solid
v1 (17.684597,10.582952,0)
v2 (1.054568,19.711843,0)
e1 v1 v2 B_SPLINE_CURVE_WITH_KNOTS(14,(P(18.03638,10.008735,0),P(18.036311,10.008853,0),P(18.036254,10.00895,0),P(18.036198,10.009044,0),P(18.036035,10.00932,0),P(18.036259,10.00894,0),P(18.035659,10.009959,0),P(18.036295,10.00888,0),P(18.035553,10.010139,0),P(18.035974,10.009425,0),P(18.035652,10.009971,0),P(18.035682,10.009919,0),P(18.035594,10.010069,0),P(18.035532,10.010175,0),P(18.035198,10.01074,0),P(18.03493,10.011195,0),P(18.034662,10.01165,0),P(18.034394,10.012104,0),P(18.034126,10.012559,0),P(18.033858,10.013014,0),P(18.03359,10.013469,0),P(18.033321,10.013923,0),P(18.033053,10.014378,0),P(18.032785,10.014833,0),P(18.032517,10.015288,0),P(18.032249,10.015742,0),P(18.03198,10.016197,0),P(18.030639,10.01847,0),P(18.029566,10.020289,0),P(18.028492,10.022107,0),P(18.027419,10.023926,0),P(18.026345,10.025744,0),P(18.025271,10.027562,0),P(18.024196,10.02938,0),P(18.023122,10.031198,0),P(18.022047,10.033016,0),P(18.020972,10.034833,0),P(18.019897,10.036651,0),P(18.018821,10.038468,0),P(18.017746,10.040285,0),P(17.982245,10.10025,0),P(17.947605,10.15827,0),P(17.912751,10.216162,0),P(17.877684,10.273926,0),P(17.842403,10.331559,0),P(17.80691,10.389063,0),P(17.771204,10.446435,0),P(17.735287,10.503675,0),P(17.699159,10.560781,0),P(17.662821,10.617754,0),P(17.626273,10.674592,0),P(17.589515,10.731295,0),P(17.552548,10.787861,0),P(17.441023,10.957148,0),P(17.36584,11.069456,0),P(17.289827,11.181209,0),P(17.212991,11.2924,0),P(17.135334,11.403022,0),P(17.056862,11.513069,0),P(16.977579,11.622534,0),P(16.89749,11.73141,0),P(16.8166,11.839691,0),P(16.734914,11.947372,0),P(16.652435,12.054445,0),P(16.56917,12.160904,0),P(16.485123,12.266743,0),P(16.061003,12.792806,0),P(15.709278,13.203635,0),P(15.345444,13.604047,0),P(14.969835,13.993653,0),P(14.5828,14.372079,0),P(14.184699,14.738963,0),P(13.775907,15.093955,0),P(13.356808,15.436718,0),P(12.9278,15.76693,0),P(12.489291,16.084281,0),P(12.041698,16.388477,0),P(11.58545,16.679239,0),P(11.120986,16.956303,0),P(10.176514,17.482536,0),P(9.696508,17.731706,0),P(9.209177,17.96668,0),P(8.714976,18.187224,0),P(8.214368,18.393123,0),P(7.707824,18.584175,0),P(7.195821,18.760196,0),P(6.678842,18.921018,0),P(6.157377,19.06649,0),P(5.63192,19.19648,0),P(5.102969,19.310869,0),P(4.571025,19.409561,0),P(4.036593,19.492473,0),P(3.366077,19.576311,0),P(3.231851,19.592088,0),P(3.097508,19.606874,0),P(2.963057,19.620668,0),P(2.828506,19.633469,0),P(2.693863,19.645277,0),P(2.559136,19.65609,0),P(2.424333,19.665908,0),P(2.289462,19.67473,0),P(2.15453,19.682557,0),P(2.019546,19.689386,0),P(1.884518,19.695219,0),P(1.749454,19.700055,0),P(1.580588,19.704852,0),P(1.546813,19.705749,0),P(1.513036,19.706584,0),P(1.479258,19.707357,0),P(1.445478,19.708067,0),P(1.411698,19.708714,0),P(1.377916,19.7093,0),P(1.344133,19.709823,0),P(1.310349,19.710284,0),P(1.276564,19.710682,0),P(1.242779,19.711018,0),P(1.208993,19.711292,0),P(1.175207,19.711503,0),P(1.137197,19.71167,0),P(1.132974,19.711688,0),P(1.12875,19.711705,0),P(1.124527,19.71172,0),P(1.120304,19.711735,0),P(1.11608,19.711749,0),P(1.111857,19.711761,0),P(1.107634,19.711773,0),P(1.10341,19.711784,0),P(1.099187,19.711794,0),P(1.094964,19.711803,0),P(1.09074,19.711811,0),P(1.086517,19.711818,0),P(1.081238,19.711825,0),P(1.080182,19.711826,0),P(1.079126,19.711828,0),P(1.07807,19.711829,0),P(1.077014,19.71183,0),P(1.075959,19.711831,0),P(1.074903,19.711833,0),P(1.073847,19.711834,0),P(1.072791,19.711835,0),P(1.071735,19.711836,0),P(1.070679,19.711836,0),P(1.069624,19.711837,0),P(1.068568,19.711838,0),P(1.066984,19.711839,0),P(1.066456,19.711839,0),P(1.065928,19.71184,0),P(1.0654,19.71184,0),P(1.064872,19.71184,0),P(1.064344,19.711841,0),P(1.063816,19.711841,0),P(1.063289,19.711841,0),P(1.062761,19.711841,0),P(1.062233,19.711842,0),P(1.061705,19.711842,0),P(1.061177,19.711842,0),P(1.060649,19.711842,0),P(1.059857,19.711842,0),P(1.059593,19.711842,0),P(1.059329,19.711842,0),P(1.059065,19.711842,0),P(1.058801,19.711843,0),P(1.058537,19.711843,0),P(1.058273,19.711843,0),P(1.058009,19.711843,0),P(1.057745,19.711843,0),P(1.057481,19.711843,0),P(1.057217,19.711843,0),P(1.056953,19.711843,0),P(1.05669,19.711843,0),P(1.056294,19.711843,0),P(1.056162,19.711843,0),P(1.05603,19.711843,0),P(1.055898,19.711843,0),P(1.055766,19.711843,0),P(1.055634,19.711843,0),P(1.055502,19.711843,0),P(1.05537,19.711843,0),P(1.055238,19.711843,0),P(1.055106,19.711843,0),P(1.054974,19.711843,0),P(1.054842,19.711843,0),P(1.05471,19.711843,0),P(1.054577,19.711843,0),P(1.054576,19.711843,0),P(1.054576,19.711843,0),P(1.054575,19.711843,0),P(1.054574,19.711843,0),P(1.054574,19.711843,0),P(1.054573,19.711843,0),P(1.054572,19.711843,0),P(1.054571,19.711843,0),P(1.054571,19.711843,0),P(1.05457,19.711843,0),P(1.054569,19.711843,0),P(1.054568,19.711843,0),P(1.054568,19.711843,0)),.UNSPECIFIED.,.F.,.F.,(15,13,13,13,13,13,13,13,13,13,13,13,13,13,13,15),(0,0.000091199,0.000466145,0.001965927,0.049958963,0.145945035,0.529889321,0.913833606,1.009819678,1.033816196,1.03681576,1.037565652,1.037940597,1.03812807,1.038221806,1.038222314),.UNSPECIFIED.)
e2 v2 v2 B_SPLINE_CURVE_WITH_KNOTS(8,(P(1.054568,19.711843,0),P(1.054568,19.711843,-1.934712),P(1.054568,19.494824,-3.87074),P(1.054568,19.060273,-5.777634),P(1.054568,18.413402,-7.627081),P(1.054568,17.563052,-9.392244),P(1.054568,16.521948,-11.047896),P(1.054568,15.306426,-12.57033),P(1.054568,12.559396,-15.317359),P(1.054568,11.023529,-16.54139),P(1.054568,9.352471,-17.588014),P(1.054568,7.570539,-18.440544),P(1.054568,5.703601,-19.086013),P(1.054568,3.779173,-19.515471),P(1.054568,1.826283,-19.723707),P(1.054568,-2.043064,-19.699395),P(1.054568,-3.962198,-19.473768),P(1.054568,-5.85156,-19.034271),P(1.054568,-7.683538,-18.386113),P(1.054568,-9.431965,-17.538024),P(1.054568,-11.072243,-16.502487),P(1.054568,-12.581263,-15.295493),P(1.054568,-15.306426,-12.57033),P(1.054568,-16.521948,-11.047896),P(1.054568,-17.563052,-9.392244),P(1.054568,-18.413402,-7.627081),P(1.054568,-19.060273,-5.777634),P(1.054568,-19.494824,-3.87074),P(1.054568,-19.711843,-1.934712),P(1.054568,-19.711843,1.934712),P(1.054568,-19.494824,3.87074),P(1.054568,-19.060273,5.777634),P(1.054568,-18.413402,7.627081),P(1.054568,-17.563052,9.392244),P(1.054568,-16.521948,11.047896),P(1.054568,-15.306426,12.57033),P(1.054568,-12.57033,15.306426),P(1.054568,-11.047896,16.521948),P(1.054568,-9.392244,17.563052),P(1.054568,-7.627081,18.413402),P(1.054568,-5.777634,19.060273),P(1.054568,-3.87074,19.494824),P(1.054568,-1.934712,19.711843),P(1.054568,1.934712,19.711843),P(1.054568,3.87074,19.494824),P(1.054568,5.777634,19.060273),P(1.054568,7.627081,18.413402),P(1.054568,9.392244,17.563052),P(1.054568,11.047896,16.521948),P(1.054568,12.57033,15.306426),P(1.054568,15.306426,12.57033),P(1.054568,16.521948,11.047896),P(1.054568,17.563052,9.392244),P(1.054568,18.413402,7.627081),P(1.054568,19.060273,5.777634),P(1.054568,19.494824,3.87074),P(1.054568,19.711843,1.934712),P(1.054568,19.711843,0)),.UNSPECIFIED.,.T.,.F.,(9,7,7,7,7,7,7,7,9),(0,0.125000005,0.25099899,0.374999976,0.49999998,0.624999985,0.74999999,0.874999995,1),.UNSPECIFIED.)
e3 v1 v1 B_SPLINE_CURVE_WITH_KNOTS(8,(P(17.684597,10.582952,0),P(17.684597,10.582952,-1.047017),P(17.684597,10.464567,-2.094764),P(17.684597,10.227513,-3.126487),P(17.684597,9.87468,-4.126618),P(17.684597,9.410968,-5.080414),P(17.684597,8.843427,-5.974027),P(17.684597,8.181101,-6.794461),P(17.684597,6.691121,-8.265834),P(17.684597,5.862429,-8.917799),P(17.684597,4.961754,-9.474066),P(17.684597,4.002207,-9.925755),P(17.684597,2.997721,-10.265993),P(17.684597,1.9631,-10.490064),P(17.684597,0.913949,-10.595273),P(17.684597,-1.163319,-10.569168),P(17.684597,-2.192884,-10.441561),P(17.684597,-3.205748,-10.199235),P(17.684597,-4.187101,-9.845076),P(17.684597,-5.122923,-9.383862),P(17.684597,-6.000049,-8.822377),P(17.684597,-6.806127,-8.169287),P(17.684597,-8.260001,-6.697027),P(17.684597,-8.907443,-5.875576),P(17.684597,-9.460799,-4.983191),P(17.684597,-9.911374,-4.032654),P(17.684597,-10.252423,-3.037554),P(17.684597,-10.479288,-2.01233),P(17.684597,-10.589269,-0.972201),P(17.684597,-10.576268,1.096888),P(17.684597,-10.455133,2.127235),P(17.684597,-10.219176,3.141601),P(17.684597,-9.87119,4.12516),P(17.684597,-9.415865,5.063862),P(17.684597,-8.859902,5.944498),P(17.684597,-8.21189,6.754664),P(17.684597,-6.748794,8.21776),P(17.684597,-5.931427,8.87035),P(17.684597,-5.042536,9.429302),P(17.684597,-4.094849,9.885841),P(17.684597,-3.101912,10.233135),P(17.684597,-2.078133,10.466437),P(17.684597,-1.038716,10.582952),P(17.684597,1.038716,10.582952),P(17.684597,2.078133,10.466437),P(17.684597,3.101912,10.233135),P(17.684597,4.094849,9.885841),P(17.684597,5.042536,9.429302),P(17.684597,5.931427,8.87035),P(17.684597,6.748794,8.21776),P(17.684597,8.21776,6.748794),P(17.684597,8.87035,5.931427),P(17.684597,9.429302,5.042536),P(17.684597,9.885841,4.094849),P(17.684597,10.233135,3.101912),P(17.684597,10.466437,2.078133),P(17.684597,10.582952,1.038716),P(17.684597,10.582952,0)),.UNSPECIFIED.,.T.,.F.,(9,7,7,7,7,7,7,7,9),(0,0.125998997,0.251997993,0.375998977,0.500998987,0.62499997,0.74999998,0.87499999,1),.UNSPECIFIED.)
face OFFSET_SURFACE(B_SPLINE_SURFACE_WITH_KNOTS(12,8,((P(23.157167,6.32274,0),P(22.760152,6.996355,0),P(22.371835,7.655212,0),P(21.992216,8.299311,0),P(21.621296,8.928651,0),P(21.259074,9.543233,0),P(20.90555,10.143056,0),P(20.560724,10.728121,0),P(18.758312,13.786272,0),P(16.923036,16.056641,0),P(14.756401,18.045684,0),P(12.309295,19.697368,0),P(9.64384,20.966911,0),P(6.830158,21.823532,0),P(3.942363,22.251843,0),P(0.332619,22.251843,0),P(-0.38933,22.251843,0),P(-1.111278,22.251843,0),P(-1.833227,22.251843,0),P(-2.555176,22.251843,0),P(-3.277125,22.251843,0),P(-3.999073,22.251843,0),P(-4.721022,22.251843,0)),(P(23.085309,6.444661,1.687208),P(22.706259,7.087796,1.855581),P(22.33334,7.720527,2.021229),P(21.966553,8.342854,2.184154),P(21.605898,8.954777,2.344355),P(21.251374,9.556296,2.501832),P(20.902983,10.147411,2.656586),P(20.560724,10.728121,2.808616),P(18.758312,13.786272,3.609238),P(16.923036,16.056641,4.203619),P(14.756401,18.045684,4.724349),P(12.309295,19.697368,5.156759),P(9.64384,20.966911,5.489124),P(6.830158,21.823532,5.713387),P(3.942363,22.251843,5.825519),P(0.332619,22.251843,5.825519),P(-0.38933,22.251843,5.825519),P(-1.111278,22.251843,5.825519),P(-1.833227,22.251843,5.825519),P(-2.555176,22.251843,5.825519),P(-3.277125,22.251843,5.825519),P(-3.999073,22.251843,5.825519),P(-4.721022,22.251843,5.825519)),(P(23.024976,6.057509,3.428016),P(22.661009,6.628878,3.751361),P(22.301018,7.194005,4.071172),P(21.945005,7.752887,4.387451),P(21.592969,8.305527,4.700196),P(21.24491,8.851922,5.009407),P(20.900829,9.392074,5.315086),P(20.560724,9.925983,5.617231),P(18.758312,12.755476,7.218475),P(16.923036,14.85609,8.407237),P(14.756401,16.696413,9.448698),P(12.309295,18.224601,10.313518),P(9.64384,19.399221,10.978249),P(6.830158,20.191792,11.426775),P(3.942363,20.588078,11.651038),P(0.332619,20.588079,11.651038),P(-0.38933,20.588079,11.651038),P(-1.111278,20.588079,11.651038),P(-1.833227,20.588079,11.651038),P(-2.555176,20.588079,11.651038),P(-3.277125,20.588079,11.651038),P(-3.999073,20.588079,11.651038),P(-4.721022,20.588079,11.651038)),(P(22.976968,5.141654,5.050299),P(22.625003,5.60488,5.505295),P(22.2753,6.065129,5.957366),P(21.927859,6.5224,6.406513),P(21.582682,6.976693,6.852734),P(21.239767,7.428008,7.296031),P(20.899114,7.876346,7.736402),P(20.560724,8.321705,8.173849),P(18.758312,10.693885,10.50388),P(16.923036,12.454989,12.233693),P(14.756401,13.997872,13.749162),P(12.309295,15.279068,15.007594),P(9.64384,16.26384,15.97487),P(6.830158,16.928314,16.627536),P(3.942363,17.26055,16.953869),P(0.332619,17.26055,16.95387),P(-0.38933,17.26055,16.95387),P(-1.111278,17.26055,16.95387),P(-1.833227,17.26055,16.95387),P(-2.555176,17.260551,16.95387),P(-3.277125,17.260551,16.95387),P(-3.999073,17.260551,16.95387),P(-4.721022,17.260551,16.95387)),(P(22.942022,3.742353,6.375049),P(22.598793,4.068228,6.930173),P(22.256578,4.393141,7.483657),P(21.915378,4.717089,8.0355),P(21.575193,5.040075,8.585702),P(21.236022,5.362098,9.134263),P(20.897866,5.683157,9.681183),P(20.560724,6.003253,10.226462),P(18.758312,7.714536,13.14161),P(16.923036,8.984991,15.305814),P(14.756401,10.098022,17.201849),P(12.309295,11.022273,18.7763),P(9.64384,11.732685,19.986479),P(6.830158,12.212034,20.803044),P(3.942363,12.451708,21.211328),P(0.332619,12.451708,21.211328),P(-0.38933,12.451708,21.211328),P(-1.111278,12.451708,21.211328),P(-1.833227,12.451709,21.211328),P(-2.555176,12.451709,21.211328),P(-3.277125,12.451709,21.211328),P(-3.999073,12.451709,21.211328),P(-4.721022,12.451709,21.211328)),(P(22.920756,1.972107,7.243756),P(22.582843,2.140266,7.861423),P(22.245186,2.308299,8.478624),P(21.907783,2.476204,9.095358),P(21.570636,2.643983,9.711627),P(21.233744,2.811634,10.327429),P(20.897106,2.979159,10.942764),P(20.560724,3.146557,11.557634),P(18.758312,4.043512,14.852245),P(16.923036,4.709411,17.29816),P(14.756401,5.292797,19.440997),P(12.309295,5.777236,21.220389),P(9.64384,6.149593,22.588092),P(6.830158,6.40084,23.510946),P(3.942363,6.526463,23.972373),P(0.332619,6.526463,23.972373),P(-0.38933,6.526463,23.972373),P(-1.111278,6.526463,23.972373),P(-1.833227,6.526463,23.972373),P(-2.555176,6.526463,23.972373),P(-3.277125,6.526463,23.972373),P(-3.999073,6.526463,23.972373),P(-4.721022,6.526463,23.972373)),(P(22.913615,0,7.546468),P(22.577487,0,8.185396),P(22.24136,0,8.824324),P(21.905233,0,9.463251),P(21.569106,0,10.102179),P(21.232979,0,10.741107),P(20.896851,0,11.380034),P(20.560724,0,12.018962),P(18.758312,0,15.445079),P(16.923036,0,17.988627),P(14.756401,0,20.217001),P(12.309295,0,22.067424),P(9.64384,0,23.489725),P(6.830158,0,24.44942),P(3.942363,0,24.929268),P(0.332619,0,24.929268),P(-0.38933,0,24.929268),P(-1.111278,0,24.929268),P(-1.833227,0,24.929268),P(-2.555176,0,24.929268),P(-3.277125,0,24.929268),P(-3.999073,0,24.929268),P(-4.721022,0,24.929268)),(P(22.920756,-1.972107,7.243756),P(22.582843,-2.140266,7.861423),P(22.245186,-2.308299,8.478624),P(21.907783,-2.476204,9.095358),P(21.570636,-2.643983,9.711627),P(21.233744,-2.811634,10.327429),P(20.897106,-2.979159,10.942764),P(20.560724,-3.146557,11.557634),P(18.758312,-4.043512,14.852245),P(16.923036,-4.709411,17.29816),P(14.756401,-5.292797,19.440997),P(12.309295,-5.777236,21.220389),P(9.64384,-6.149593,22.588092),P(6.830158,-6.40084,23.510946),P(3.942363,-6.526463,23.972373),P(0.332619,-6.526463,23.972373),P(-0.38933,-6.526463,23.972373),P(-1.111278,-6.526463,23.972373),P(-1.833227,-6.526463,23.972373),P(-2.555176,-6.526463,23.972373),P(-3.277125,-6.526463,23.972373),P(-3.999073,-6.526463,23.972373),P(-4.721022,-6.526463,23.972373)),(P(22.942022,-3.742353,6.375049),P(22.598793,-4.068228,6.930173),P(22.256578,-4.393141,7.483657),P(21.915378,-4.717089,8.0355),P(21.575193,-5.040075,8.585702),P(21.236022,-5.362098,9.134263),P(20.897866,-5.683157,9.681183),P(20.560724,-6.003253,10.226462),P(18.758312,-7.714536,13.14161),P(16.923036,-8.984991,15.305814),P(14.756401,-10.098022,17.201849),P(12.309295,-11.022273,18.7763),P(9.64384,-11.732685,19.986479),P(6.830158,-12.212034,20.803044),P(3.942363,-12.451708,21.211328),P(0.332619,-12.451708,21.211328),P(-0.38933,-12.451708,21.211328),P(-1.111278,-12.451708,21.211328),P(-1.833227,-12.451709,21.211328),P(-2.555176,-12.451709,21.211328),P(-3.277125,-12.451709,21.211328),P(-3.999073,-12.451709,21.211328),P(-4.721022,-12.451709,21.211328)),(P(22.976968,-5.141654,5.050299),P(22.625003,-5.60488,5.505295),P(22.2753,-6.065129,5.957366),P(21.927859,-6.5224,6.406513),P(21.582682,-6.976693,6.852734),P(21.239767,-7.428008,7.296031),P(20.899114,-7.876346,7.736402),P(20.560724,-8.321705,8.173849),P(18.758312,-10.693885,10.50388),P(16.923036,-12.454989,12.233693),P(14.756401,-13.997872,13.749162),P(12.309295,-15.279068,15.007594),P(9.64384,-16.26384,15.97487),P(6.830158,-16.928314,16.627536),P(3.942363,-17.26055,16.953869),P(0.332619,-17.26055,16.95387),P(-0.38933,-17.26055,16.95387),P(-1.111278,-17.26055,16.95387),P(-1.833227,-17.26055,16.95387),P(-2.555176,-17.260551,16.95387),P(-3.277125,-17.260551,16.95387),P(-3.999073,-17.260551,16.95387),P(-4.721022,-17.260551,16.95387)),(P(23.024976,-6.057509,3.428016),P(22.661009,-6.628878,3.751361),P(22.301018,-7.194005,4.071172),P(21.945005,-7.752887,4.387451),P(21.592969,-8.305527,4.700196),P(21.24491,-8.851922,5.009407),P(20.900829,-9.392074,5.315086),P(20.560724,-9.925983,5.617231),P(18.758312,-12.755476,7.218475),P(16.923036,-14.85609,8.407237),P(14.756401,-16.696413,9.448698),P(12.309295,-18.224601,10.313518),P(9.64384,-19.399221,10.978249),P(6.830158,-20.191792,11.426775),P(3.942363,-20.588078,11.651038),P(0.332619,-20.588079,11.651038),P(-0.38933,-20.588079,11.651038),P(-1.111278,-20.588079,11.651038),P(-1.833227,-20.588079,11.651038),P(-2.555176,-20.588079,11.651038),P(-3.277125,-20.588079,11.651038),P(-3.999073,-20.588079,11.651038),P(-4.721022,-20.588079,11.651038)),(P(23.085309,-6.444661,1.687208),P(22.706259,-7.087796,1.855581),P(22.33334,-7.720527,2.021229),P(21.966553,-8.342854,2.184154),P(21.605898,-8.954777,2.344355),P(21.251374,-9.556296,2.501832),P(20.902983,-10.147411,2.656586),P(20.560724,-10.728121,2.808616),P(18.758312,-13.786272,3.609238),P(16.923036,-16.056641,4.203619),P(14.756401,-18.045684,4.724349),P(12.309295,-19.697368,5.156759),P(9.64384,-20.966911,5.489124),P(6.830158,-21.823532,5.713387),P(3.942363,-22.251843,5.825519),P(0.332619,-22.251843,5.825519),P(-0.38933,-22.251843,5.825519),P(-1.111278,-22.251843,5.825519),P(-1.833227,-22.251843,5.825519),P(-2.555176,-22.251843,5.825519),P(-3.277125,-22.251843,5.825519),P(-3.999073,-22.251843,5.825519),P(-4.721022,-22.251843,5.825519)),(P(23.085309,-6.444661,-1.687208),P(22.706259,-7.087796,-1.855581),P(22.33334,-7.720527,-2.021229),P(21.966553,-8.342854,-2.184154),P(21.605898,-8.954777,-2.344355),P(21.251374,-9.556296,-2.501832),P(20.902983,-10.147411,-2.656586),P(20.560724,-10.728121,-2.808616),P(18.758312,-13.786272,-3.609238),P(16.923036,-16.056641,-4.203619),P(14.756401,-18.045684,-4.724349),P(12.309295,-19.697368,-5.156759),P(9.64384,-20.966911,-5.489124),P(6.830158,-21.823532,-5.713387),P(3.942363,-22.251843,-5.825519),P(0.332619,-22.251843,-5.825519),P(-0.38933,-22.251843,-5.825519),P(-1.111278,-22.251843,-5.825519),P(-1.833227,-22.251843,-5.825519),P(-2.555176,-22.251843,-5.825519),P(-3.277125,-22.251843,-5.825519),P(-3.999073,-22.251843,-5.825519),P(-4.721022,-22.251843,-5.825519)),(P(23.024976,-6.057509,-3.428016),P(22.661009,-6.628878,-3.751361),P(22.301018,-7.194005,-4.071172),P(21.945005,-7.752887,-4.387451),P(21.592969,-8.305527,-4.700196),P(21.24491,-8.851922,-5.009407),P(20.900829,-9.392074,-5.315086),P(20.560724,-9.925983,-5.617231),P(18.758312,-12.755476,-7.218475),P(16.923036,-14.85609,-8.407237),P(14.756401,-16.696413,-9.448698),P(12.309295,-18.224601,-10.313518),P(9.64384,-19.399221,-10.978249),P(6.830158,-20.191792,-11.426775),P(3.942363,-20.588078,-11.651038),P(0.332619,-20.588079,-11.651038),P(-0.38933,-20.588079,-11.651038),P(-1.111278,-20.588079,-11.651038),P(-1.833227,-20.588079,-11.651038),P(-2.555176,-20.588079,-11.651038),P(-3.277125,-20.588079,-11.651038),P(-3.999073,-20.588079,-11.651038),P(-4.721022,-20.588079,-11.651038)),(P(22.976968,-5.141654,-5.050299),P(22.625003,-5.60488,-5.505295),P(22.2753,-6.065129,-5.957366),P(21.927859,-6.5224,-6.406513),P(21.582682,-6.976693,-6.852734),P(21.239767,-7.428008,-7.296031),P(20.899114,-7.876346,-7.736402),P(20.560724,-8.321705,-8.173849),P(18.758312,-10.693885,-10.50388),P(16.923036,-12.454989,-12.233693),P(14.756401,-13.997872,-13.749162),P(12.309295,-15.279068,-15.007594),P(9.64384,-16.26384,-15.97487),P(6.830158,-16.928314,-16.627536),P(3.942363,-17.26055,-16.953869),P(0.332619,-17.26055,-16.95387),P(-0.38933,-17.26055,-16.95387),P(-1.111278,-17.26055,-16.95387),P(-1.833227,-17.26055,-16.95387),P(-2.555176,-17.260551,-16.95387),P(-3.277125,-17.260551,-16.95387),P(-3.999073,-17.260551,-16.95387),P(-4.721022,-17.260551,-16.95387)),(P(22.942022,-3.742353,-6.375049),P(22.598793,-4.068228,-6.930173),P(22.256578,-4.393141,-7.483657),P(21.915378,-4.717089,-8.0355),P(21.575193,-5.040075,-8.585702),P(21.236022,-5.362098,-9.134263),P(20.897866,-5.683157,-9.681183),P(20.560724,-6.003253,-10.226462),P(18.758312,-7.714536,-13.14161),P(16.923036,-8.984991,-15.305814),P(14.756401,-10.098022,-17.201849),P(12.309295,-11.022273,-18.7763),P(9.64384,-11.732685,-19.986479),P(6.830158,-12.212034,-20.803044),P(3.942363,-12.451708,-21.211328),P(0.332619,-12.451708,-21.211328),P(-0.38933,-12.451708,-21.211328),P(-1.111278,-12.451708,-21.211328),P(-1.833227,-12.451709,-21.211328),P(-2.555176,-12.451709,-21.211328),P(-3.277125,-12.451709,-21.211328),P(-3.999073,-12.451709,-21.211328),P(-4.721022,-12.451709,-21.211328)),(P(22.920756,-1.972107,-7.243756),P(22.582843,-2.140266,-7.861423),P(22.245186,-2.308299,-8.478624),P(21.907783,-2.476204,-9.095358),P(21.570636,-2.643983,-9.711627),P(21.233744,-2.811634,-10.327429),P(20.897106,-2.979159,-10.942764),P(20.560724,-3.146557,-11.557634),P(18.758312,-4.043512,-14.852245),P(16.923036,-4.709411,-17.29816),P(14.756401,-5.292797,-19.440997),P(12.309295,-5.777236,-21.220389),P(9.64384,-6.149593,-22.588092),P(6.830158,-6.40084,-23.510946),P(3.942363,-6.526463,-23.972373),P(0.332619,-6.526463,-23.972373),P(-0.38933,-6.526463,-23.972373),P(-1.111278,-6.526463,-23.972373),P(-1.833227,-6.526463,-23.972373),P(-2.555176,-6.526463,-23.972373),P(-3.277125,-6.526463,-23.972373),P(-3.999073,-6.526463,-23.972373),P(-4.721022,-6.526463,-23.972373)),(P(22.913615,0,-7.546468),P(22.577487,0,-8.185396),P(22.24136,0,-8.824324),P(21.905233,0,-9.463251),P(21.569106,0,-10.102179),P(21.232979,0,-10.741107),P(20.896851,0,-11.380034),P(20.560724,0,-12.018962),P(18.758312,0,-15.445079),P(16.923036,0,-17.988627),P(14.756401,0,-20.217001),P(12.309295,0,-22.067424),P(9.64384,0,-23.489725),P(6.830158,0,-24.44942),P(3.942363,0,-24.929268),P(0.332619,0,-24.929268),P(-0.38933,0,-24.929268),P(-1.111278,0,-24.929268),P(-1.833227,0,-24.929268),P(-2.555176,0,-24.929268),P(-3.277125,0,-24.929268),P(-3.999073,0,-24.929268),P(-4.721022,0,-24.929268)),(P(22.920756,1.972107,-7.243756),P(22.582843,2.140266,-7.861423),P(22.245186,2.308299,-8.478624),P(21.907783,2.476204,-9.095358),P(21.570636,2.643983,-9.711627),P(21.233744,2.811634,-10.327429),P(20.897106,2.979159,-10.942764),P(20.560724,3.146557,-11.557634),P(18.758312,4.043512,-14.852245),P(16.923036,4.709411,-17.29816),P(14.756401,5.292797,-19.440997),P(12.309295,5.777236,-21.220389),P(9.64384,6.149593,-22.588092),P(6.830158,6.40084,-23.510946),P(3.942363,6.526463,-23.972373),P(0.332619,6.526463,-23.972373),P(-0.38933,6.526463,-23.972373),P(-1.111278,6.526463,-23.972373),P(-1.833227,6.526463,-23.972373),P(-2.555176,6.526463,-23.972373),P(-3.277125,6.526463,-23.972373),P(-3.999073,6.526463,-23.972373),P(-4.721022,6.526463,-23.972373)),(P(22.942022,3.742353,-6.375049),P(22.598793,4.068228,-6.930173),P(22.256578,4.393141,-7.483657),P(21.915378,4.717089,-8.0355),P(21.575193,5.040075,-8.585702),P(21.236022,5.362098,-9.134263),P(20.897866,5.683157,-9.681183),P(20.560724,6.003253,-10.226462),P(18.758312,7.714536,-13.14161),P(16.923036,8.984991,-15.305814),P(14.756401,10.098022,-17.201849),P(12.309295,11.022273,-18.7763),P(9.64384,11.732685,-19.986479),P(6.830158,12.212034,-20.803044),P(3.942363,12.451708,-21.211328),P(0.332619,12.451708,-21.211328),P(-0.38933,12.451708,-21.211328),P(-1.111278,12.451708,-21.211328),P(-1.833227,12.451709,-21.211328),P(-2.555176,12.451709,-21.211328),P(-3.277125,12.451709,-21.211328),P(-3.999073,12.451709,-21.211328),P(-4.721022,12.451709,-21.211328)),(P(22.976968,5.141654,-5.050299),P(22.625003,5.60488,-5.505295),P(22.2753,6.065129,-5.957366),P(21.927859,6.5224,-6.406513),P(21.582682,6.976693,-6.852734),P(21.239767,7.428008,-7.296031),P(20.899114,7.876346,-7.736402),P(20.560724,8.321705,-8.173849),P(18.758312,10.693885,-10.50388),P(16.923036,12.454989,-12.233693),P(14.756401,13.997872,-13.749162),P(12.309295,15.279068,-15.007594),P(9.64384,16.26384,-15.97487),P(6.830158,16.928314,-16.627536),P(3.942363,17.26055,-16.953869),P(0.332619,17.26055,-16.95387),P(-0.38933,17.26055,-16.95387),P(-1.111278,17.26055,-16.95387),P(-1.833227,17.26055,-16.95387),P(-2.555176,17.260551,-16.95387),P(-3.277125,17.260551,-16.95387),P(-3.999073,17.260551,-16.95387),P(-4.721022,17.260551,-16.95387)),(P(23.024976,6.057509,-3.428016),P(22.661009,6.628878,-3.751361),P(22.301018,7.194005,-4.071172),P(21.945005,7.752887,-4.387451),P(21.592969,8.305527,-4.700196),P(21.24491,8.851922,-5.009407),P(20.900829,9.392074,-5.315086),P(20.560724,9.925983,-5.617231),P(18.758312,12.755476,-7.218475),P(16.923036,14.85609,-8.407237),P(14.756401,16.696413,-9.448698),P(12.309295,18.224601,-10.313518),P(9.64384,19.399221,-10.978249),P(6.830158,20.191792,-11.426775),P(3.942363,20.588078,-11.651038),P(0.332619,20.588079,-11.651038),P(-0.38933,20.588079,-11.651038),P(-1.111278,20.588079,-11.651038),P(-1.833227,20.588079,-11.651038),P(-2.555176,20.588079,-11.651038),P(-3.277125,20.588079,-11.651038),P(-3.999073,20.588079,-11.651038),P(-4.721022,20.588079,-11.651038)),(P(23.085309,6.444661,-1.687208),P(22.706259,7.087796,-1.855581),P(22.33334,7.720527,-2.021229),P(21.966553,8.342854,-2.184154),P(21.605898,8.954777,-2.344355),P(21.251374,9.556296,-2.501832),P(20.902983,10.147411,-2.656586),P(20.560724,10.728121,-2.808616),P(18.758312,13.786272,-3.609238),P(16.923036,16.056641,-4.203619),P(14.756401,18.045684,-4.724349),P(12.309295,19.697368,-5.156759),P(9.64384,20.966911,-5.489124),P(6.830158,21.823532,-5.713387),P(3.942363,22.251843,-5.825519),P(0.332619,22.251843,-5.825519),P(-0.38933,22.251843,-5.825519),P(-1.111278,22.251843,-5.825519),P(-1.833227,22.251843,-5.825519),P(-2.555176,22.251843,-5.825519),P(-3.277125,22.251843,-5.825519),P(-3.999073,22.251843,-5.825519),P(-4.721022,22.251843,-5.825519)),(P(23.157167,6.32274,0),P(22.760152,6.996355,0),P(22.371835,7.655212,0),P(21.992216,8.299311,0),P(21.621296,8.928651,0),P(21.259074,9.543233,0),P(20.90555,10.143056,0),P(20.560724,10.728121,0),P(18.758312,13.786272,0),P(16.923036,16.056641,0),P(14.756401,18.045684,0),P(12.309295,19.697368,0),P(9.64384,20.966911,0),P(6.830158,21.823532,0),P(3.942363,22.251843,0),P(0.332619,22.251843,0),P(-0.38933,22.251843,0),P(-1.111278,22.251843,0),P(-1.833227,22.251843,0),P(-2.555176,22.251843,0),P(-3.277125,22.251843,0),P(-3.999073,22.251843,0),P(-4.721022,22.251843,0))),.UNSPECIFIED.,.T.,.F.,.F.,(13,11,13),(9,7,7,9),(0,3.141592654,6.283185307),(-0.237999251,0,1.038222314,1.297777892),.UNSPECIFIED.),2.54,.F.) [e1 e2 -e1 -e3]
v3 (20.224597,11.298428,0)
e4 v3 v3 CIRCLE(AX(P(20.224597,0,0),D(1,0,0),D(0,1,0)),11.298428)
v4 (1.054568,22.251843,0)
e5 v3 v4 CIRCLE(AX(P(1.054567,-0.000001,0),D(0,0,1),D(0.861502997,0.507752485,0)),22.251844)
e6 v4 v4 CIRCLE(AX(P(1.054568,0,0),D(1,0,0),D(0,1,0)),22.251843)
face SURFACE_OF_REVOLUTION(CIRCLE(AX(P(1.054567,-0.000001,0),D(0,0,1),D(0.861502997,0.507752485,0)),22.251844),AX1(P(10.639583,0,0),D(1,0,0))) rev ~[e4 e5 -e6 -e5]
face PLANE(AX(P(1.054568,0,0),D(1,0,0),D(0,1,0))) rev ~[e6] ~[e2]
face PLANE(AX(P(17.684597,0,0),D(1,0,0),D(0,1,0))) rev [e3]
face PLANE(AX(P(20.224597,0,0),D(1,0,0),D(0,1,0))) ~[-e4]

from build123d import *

# Parameters (mm, degrees)
F2_T = -2.54


with BuildPart() as f1:
    # F0 (on Top) → F1 (revolve)
    with BuildSketch(Plane.XY):
        with BuildLine():
            Line((1.054568, 22.251843), (1.054568, 0))
            Line((1.054568, 0), (20.224597, 0))
            Line((20.224597, 0), (20.224597, 11.298428))
            ThreePointArc((20.224597, 11.298428), (12.093899, 19.320395), (1.054568, 22.251843))
        make_face()
    revolve(axis=Axis((10.639583, 0, 0), (1, 0, 0)))

    # F2
    f2_openings = [f1.faces().sort_by_distance(p)[0] for p in [
        (1.054568, 0, 0),
    ]]
    offset(amount=F2_T, openings=f2_openings)


solid = f1.part
